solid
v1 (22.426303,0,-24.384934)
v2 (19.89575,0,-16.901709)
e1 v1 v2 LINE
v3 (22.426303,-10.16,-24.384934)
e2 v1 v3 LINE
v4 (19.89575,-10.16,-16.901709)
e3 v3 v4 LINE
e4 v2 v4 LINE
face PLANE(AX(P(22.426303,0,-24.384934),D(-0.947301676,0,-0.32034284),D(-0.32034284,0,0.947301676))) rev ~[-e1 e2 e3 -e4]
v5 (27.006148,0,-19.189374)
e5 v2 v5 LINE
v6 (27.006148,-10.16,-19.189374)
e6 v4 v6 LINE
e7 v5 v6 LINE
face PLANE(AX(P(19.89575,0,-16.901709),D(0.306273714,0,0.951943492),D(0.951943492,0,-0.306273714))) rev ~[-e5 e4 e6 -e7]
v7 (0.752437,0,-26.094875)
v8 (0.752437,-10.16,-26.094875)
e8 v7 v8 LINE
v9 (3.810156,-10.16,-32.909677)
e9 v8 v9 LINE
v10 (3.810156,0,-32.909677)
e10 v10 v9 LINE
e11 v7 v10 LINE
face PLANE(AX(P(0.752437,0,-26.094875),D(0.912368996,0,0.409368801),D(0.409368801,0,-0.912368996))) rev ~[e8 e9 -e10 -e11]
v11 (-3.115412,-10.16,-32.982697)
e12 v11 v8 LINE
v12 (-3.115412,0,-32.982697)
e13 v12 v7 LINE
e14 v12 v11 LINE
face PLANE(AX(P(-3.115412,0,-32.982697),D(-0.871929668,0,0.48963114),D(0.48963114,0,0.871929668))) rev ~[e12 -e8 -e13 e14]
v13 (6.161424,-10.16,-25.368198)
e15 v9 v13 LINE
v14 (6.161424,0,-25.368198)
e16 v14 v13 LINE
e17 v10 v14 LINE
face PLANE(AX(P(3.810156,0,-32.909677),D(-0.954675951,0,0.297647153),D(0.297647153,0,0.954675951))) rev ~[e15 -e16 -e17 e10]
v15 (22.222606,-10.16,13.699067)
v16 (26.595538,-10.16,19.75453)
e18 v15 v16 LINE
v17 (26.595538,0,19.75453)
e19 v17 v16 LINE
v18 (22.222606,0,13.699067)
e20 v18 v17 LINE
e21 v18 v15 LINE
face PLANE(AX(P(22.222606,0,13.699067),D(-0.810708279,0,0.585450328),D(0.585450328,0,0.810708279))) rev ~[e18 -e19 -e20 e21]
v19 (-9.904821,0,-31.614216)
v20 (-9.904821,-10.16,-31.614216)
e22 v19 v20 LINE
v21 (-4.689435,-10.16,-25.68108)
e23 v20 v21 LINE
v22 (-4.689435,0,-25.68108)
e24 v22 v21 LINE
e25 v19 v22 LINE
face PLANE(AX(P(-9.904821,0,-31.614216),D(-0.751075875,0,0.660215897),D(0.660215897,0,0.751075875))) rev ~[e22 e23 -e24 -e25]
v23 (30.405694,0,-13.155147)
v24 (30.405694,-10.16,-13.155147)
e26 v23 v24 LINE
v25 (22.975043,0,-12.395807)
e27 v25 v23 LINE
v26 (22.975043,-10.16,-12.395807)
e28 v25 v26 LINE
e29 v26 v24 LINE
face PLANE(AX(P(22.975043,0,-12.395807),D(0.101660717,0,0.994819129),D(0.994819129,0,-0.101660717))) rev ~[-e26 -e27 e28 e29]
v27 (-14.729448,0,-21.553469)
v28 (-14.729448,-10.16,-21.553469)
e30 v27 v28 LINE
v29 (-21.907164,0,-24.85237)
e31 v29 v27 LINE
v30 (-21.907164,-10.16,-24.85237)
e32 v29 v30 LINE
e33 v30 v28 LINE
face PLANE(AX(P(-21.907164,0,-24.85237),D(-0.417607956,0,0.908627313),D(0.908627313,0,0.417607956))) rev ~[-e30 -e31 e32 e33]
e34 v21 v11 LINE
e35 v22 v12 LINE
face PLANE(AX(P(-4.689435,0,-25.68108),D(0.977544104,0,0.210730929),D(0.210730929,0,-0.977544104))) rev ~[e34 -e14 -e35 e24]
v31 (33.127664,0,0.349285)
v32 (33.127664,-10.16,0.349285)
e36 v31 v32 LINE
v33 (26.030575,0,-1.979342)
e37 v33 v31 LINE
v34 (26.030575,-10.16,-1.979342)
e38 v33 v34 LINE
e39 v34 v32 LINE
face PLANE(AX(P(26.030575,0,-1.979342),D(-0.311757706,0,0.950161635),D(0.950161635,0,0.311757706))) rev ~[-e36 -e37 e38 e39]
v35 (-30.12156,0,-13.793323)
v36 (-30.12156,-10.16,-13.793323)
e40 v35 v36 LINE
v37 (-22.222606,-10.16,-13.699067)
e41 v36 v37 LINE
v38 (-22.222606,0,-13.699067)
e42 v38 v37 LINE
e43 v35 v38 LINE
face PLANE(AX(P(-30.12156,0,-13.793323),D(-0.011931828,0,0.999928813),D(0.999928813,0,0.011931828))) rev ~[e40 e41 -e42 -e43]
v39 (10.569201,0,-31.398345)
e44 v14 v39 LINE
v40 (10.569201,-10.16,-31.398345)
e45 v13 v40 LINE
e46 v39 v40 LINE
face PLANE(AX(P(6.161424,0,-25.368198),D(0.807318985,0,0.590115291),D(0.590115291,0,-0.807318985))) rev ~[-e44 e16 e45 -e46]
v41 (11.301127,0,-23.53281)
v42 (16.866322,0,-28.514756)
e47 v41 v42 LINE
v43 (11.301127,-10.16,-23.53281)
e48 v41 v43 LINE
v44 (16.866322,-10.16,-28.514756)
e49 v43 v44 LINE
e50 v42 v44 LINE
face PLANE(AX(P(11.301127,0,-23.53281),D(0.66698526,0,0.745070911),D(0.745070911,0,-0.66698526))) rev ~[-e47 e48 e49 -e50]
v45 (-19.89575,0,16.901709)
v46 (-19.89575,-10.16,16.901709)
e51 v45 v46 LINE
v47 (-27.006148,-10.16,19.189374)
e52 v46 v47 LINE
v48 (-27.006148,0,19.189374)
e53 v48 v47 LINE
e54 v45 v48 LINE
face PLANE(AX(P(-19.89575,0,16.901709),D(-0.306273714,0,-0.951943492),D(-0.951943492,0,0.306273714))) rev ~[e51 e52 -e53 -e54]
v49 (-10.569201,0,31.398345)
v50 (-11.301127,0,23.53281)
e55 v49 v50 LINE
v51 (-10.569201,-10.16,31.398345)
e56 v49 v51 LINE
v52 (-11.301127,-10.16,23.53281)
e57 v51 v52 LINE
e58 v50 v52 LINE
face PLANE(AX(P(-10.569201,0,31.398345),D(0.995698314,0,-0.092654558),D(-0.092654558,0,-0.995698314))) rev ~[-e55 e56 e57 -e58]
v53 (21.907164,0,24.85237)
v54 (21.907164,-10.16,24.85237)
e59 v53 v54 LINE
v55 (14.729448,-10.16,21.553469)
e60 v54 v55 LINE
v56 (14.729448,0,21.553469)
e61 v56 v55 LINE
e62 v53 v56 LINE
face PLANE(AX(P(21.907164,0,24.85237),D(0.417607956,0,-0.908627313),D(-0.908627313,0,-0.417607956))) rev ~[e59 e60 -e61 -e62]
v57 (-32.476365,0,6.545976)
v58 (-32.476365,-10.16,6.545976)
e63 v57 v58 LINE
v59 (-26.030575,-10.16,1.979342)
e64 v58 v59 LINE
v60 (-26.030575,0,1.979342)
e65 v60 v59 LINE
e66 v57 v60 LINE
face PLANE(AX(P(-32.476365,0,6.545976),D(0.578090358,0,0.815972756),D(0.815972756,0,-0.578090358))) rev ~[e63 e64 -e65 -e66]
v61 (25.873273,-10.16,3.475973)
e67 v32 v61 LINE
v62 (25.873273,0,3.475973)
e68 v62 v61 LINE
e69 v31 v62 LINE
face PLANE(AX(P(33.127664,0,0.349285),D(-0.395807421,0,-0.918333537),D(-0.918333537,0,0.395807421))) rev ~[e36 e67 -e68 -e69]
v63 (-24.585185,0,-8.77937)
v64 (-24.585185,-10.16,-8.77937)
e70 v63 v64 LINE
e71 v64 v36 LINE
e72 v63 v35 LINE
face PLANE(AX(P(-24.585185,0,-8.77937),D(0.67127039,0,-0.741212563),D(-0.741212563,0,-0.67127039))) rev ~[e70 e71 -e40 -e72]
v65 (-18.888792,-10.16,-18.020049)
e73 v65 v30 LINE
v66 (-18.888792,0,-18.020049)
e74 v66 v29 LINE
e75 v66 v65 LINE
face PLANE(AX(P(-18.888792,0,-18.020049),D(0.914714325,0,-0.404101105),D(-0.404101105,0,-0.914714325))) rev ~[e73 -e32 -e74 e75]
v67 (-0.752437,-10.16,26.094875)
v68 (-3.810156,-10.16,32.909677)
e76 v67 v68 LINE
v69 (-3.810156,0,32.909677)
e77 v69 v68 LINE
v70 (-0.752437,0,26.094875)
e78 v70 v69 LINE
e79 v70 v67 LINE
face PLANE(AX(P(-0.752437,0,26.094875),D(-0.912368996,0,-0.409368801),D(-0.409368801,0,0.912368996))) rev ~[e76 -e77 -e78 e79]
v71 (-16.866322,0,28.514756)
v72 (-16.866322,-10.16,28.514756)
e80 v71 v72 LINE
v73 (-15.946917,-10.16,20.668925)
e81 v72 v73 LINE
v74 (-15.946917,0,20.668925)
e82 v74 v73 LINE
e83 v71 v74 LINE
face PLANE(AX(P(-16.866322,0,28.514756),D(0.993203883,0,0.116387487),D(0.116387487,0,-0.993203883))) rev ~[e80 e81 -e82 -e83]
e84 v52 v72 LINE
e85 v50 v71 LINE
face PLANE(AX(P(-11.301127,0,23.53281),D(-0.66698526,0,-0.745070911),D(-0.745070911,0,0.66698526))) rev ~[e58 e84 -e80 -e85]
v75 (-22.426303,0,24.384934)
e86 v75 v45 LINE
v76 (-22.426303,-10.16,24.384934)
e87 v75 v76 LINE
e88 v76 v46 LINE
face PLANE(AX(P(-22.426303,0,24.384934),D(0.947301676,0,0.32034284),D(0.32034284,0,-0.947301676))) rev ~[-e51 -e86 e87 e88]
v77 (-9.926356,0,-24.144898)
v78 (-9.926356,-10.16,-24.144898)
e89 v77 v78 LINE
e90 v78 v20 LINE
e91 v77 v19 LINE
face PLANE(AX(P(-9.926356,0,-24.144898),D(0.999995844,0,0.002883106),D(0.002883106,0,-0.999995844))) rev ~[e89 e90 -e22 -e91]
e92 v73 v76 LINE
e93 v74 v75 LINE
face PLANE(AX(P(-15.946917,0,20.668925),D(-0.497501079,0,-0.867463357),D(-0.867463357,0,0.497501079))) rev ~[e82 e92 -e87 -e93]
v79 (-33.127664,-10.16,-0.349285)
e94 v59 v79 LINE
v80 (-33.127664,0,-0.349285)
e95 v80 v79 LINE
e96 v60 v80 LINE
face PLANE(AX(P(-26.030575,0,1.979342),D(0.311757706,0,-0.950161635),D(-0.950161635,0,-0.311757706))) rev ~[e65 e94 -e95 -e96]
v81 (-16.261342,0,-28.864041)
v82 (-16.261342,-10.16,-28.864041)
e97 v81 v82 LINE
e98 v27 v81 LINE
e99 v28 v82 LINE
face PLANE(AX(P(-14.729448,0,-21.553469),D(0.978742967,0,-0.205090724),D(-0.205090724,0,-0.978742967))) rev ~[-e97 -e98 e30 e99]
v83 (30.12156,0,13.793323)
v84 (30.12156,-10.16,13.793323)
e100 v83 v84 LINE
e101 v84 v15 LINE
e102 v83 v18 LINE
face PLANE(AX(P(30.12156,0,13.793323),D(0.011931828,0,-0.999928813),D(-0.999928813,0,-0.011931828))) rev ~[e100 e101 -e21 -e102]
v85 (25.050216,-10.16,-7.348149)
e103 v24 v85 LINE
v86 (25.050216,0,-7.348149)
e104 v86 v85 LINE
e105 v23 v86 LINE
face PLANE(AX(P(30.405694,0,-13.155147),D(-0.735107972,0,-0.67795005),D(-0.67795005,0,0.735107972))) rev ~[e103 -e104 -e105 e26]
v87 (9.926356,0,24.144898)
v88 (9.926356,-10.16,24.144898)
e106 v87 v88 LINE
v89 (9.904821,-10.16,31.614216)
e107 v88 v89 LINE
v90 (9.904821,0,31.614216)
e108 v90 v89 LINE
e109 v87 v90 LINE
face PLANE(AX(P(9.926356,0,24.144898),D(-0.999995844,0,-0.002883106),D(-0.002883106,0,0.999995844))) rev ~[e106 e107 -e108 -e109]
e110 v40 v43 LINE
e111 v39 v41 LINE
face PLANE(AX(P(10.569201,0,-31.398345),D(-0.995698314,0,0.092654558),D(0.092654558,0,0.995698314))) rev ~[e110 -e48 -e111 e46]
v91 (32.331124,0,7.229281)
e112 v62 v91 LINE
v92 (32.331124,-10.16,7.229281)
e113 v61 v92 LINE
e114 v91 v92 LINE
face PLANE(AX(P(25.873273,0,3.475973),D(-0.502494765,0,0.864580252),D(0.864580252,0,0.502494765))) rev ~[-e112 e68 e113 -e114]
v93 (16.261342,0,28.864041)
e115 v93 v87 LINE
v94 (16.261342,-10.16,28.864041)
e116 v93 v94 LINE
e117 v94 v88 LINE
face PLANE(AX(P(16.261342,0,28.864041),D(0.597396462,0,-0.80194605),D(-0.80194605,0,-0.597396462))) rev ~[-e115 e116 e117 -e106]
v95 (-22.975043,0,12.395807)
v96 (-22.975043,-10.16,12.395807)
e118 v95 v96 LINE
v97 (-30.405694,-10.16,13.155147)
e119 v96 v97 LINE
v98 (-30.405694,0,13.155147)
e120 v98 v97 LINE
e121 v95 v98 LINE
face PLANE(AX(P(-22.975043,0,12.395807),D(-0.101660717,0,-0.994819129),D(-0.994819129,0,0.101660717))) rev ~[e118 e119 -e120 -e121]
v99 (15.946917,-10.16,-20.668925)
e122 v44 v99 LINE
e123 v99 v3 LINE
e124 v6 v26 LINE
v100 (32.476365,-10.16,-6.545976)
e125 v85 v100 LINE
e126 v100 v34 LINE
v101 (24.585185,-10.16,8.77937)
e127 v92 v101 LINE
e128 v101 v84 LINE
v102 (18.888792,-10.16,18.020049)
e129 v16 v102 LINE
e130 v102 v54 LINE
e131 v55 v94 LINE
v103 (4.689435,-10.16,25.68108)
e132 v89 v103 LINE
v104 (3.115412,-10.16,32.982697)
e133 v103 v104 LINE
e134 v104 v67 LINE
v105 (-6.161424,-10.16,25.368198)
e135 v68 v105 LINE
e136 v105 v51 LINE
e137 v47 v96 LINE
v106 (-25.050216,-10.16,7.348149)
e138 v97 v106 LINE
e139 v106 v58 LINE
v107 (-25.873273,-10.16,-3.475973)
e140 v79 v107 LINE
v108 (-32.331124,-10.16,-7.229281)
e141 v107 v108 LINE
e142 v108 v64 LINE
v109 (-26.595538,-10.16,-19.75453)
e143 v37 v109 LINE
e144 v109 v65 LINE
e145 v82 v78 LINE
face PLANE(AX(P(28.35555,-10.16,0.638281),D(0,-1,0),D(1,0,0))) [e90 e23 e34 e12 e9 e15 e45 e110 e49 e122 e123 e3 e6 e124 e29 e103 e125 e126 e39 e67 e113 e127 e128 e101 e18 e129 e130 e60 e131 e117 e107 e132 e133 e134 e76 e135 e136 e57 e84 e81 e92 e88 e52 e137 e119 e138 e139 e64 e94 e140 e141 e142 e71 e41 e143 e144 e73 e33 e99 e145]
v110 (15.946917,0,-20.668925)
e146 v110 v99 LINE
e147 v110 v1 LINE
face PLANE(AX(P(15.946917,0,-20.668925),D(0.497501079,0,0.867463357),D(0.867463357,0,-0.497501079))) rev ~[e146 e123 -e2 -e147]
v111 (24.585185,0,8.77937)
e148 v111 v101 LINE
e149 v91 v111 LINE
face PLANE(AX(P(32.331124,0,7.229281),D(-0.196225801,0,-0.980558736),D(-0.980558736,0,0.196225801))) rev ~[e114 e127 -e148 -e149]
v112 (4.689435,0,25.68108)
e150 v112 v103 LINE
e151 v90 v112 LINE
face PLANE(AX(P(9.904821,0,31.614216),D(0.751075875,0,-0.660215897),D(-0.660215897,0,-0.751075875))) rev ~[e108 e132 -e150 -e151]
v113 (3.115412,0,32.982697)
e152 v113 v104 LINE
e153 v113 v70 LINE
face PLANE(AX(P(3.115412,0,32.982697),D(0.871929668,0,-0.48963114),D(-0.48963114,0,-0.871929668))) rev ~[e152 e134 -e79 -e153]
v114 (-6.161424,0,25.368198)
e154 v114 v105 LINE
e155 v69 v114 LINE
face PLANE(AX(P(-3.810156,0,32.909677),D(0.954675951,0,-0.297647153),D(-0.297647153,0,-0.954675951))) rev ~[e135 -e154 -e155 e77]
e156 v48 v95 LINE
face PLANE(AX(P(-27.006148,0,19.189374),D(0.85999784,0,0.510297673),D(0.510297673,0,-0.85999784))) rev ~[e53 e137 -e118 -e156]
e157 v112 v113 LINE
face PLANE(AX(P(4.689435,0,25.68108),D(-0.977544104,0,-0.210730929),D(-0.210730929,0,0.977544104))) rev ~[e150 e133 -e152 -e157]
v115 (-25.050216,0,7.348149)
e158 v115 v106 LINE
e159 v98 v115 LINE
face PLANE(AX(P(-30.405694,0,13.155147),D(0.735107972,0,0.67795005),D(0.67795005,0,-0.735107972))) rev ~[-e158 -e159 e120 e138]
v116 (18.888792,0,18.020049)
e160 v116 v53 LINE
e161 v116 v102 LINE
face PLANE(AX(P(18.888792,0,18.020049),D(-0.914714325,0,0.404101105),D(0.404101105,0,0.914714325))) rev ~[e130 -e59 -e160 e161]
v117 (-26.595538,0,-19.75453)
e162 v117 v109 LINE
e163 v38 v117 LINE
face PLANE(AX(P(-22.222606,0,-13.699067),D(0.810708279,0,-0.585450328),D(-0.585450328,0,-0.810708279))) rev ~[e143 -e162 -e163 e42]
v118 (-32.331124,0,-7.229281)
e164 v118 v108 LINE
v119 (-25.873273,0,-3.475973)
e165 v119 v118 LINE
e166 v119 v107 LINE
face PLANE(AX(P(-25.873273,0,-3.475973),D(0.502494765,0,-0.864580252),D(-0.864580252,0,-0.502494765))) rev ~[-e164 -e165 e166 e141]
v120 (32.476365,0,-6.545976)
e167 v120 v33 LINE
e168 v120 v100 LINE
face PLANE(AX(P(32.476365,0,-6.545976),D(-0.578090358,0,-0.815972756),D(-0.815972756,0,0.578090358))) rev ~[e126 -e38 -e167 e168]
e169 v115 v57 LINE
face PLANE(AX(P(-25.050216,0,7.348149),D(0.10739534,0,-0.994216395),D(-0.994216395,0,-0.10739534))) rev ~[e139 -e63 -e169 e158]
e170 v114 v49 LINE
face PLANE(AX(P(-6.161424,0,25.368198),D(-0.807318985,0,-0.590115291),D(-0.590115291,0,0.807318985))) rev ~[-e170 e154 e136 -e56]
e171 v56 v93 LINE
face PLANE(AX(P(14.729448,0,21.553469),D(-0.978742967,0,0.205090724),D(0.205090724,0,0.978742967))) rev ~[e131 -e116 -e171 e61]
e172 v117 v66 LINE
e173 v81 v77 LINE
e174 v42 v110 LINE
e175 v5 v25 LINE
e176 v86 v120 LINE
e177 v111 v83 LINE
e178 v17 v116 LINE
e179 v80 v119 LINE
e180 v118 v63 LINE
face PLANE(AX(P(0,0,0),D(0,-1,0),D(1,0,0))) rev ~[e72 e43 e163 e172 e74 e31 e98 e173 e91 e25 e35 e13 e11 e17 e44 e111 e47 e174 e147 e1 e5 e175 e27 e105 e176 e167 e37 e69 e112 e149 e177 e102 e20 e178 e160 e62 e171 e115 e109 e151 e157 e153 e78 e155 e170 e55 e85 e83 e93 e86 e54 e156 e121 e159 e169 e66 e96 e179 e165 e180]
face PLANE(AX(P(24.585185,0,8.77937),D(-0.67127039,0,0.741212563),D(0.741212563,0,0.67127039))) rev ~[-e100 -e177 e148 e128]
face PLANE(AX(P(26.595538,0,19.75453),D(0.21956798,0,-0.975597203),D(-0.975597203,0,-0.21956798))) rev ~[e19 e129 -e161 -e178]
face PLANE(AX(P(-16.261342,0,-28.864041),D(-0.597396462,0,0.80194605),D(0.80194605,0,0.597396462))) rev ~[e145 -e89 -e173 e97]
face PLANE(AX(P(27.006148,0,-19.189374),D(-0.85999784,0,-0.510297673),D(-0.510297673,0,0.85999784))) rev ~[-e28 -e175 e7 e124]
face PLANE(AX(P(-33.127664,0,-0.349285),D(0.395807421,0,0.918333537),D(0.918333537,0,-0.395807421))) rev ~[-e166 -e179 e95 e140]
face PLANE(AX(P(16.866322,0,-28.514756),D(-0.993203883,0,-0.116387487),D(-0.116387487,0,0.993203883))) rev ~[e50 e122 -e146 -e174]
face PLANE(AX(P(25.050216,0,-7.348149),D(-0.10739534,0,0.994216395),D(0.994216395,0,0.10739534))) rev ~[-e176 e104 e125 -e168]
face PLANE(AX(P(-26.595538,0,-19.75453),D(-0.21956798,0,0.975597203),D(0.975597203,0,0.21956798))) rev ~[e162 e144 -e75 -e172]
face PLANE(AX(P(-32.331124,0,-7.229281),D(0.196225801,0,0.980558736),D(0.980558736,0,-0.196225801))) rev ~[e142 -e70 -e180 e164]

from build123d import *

# Parameters (mm, degrees)
F1_DEPTH = 10.16
F2_R     = 25.4
F3_DEPTH = 10.16


with BuildPart() as f1:
    # F0 (on Front) → F1 (new body)
    with BuildSketch(Plane.XZ):
        with BuildLine():
            ThreePointArc((25.2112005568, 3.0911755833), (25.3527562026, 1.5484679297), (25.4, 0))
            ThreePointArc((25.4, 0), (25.3888981273, -0.750900713), (25.3556022141, -1.5011450163))
            Line((25.3556022141, -1.5011450163), (26.0305752657, -1.9793416351))
            Line((26.0305752657, -1.9793416351), (33.1276639033, 0.3492854048))
            Line((33.1276639033, 0.3492854048), (25.8732730079, 3.475972645))
            Line((25.8732730079, 3.475972645), (25.2112005568, 3.0911755833))
        make_face()
        with BuildLine():
            ThreePointArc((25.1136270694, 3.803384732), (25.164933526, 3.4476253613), (25.2112005568, 3.0911755833))
            Line((25.2112005568, 3.0911755833), (25.8732730079, 3.475972645))
            Line((25.8732730079, 3.475972645), (25.1136270694, 3.803384732))
        make_face()
        with BuildLine():
            Line((26.0305752657, -1.9793416351), (25.3556022141, -1.5011450163))
            ThreePointArc((25.3556022141, -1.5011450163), (25.3318209693, -1.8597974033), (25.3029668784, -2.218077355))
            Line((25.3029668784, -2.218077355), (26.0305752657, -1.9793416351))
        make_face()
        with BuildLine():
            ThreePointArc((24.0175837941, 8.2653293156), (24.6667024062, 6.0591907386), (25.1136270694, 3.803384732))
            Line((25.1136270694, 3.803384732), (25.8732730079, 3.475972645))
            Line((25.8732730079, 3.475972645), (32.3311244458, 7.2292812957))
            Line((32.3311244458, 7.2292812957), (24.5851845659, 8.779370241))
            Line((24.5851845659, 8.779370241), (24.0175837941, 8.2653293156))
        make_face()
        with BuildLine():
            Line((26.0305752657, -1.9793416351), (25.3029668784, -2.218077355))
            ThreePointArc((25.3029668784, -2.218077355), (24.9986488389, -4.4975055562), (24.4894158724, -6.740067524))
            Line((24.4894158724, -6.740067524), (25.0502164758, -7.3481491879))
            Line((25.0502164758, -7.3481491879), (32.476365484, -6.5459759343))
            Line((32.476365484, -6.5459759343), (26.0305752657, -1.9793416351))
        make_face()
        with BuildLine():
            ThreePointArc((23.7740659132, 8.9416883169), (23.8982177329, 8.6043703541), (24.0175837941, 8.2653293156))
            Line((24.0175837941, 8.2653293156), (24.5851845659, 8.779370241))
            Line((24.5851845659, 8.779370241), (23.7740659132, 8.9416883169))
        make_face()
        with BuildLine():
            Line((25.0502164758, -7.3481491879), (24.4894158724, -6.740067524))
            ThreePointArc((24.4894158724, -6.740067524), (24.3915862806, -7.0859380971), (24.2888721303, -7.4303896694))
            Line((24.2888721303, -7.4303896694), (25.0502164758, -7.3481491879))
        make_face()
        with BuildLine():
            ThreePointArc((21.7742833704, 13.0782484953), (22.8678991852, 11.0552786875), (23.7740659132, 8.9416883169))
            Line((23.7740659132, 8.9416883169), (24.5851845659, 8.779370241))
            Line((24.5851845659, 8.779370241), (30.1215597081, 13.793322904))
            Line((30.1215597081, 13.793322904), (22.2226055856, 13.6990672294))
            Line((22.2226055856, 13.6990672294), (21.7742833704, 13.0782484953))
        make_face()
        with BuildLine():
            Line((25.0502164758, -7.3481491879), (24.2888721303, -7.4303896694))
            ThreePointArc((24.2888721303, -7.4303896694), (23.5172843987, -9.5967356174), (22.5529245438, -11.6844167386))
            Line((22.5529245438, -11.6844167386), (22.9750430216, -12.3958073608))
            Line((22.9750430216, -12.3958073608), (30.4056940542, -13.155146714))
            Line((30.4056940542, -13.155146714), (25.0502164758, -7.3481491879))
        make_face()
        with BuildLine():
            ThreePointArc((21.3954639959, 13.6891972153), (21.5870351485, 13.3850630741), (21.7742833704, 13.0782484953))
            Line((21.7742833704, 13.0782484953), (22.2226055856, 13.6990672294))
            Line((22.2226055856, 13.6990672294), (21.3954639959, 13.6891972153))
        make_face()
        with BuildLine():
            Line((22.9750430216, -12.3958073608), (22.5529245438, -11.6844167386))
            ThreePointArc((22.5529245438, -11.6844167386), (22.3853222277, -12.002389294), (22.2132371191, -12.3179583003))
            Line((22.2132371191, -12.3179583003), (22.9750430216, -12.3958073608))
        make_face()
        with BuildLine():
            ThreePointArc((18.5793422789, 17.3195854594), (20.0696590374, 15.5681979086), (21.3954639959, 13.6891972153))
            Line((21.3954639959, 13.6891972153), (22.2226055856, 13.6990672294))
            Line((22.2226055856, 13.6990672294), (26.5955382719, 19.7545301137))
            Line((26.5955382719, 19.7545301137), (18.8887921054, 18.0200492444))
            Line((18.8887921054, 18.0200492444), (18.5793422789, 17.3195854594))
        make_face()
        with BuildLine():
            Line((22.9750430216, -12.3958073608), (22.2132371191, -12.3179583003))
            ThreePointArc((22.2132371191, -12.3179583003), (21.0081017818, -14.2765422818), (19.6307621917, -16.1181008736))
            Line((19.6307621917, -16.1181008736), (19.8957499409, -16.9017092703))
            Line((19.8957499409, -16.9017092703), (27.0061478915, -19.1893744569))
            Line((27.0061478915, -19.1893744569), (22.9750430216, -12.3958073608))
        make_face()
        with BuildLine():
            ThreePointArc((18.0817776352, 17.8384225073), (18.332395542, 17.580764309), (18.5793422789, 17.3195854594))
            Line((18.5793422789, 17.3195854594), (18.8887921054, 18.0200492444))
            Line((18.8887921054, 18.0200492444), (18.0817776352, 17.8384225073))
        make_face()
        with BuildLine():
            Line((19.8957499409, -16.9017092703), (19.6307621917, -16.1181008736))
            ThreePointArc((19.6307621917, -16.1181008736), (19.4007121767, -16.3942784848), (19.166777055, -16.6671730454))
            Line((19.166777055, -16.6671730454), (19.8957499409, -16.9017092703))
        make_face()
        with BuildLine():
            ThreePointArc((14.5723947762, 20.8039734303), (16.3942784848, 19.4007121767), (18.0817776352, 17.8384225073))
            Line((18.0817776352, 17.8384225073), (18.8887921054, 18.0200492444))
            Line((18.8887921054, 18.0200492444), (21.9071641936, 24.8523695646))
            Line((21.9071641936, 24.8523695646), (14.7294477716, 21.5534686376))
            Line((14.7294477716, 21.5534686376), (14.5723947762, 20.8039734303))
        make_face()
        with BuildLine():
            Line((19.8957499409, -16.9017092703), (19.166777055, -16.6671730454))
            ThreePointArc((19.166777055, -16.6671730454), (17.580764309, -18.332395542), (15.850641333, -19.8473466572))
            Line((15.850641333, -19.8473466572), (15.9469171174, -20.6689253814))
            Line((15.9469171174, -20.6689253814), (22.4263034761, -24.3849344552))
            Line((22.4263034761, -24.3849344552), (19.8957499409, -16.9017092703))
        make_face()
        with BuildLine():
            ThreePointArc((13.9778308259, 21.2080231375), (14.2765422818, 21.0081017818), (14.5723947762, 20.8039734303))
            Line((14.5723947762, 20.8039734303), (14.7294477716, 21.5534686376))
            Line((14.7294477716, 21.5534686376), (13.9778308259, 21.2080231375))
        make_face()
        with BuildLine():
            Line((15.9469171174, -20.6689253814), (15.850641333, -19.8473466572))
            ThreePointArc((15.850641333, -19.8473466572), (15.5681979086, -20.0696590374), (15.2826368611, -20.2879523504))
            Line((15.2826368611, -20.2879523504), (15.9469171174, -20.6689253814))
        make_face()
        with BuildLine():
            ThreePointArc((9.9285636957, 23.3791279337), (12.002389294, 22.3853222277), (13.9778308259, 21.2080231375))
            Line((13.9778308259, 21.2080231375), (14.7294477716, 21.5534686376))
            Line((14.7294477716, 21.5534686376), (16.2613419179, 28.8640412107))
            Line((16.2613419179, 28.8640412107), (9.9263558905, 24.1448980264))
            Line((9.9263558905, 24.1448980264), (9.9285636957, 23.3791279337))
        make_face()
        with BuildLine():
            Line((15.9469171174, -20.6689253814), (15.2826368611, -20.2879523504))
            ThreePointArc((15.2826368611, -20.2879523504), (13.3850630741, -21.5870351485), (11.3777713882, -22.7091681538))
            Line((11.3777713882, -22.7091681538), (11.3011274941, -23.5328102727))
            Line((11.3011274941, -23.5328102727), (16.8663219854, -28.5147558059))
            Line((16.8663219854, -28.5147558059), (15.9469171174, -20.6689253814))
        make_face()
        with BuildLine():
            ThreePointArc((9.2629857364, 23.6507313893), (9.5967356174, 23.5172843987), (9.9285636957, 23.3791279337))
            Line((9.9285636957, 23.3791279337), (9.9263558905, 24.1448980264))
            Line((9.9263558905, 24.1448980264), (9.2629857364, 23.6507313893))
        make_face()
        with BuildLine():
            Line((11.3011274941, -23.5328102727), (11.3777713882, -22.7091681538))
            ThreePointArc((11.3777713882, -22.7091681538), (11.0552786875, -22.8678991852), (10.7305721022, -23.0220507853))
            Line((10.7305721022, -23.0220507853), (11.3011274941, -23.5328102727))
        make_face()
        with BuildLine():
            ThreePointArc((4.8508067391, 24.932502361), (7.0859380971, 24.3915862806), (9.2629857364, 23.6507313893))
            Line((9.2629857364, 23.6507313893), (9.9263558905, 24.1448980264))
            Line((9.9263558905, 24.1448980264), (9.9048209697, 31.6142157509))
            Line((9.9048209697, 31.6142157509), (4.689434625, 25.6810795113))
            Line((4.689434625, 25.6810795113), (4.8508067391, 24.932502361))
        make_face()
        with BuildLine():
            Line((11.3011274941, -23.5328102727), (10.7305721022, -23.0220507853))
            ThreePointArc((10.7305721022, -23.0220507853), (8.6043703541, -23.8982177329), (6.4076382372, -24.5784900314))
            Line((6.4076382372, -24.5784900314), (6.1614243704, -25.3681984322))
            Line((6.1614243704, -25.3681984322), (10.5692012904, -31.3983454989))
            Line((10.5692012904, -31.3983454989), (11.3011274941, -23.5328102727))
        make_face()
        with BuildLine():
            ThreePointArc((4.1433037215, 25.0597891905), (4.4975055562, 24.9986488389), (4.8508067391, 24.932502361))
            Line((4.8508067391, 24.932502361), (4.689434625, 25.6810795113))
            Line((4.689434625, 25.6810795113), (4.1433037215, 25.0597891905))
        make_face()
        with BuildLine():
            Line((6.1614243704, -25.3681984322), (6.4076382372, -24.5784900314))
            ThreePointArc((6.4076382372, -24.5784900314), (6.0591907386, -24.6667024062), (5.7095298514, -24.7499751288))
            Line((5.7095298514, -24.7499751288), (6.1614243704, -25.3681984322))
        make_face()
        with BuildLine():
            ThreePointArc((-0.4389537487, 25.3962067956), (1.8597974033, 25.3318209693), (4.1433037215, 25.0597891905))
            Line((4.1433037215, 25.0597891905), (4.689434625, 25.6810795113))
            Line((4.689434625, 25.6810795113), (3.1154118166, 32.9826973608))
            Line((3.1154118166, 32.9826973608), (-0.752437436, 26.0948745901))
            Line((-0.752437436, 26.0948745901), (-0.4389537487, 25.3962067956))
        make_face()
        with BuildLine():
            Line((6.1614243704, -25.3681984322), (5.7095298514, -24.7499751288))
            ThreePointArc((5.7095298514, -24.7499751288), (3.4476253613, -25.164933526), (1.1574605479, -25.3736139539))
            Line((1.1574605479, -25.3736139539), (0.752437436, -26.0948745901))
            Line((0.752437436, -26.0948745901), (3.8101557823, -32.9096768276))
            Line((3.8101557823, -32.9096768276), (6.1614243704, -25.3681984322))
        make_face()
        with BuildLine():
            ThreePointArc((-1.1574605479, 25.3736139539), (-0.7982870791, 25.387452368), (-0.4389537487, 25.3962067956))
            Line((-0.4389537487, 25.3962067956), (-0.752437436, 26.0948745901))
            Line((-0.752437436, 26.0948745901), (-1.1574605479, 25.3736139539))
        make_face()
        with BuildLine():
            Line((0.752437436, -26.0948745901), (1.1574605479, -25.3736139539))
            ThreePointArc((1.1574605479, -25.3736139539), (0.7982870791, -25.387452368), (0.4389537487, -25.3962067956))
            Line((0.4389537487, -25.3962067956), (0.752437436, -26.0948745901))
        make_face()
        with BuildLine():
            ThreePointArc((-5.7095298514, 24.7499751288), (-3.4476253613, 25.164933526), (-1.1574605479, 25.3736139539))
            Line((-1.1574605479, 25.3736139539), (-0.752437436, 26.0948745901))
            Line((-0.752437436, 26.0948745901), (-3.8101557823, 32.9096768276))
            Line((-3.8101557823, 32.9096768276), (-6.1614243704, 25.3681984322))
            Line((-6.1614243704, 25.3681984322), (-5.7095298514, 24.7499751288))
        make_face()
        with BuildLine():
            Line((0.752437436, -26.0948745901), (0.4389537487, -25.3962067956))
            ThreePointArc((0.4389537487, -25.3962067956), (-1.8597974033, -25.3318209693), (-4.1433037215, -25.0597891905))
            Line((-4.1433037215, -25.0597891905), (-4.689434625, -25.6810795113))
            Line((-4.689434625, -25.6810795113), (-3.1154118166, -32.9826973608))
            Line((-3.1154118166, -32.9826973608), (0.752437436, -26.0948745901))
        make_face()
        with BuildLine():
            ThreePointArc((-6.4076382372, 24.5784900314), (-6.0591907386, 24.6667024062), (-5.7095298514, 24.7499751288))
            Line((-5.7095298514, 24.7499751288), (-6.1614243704, 25.3681984322))
            Line((-6.1614243704, 25.3681984322), (-6.4076382372, 24.5784900314))
        make_face()
        with BuildLine():
            Line((-4.689434625, -25.6810795113), (-4.1433037215, -25.0597891905))
            ThreePointArc((-4.1433037215, -25.0597891905), (-4.4975055562, -24.9986488389), (-4.8508067391, -24.932502361))
            Line((-4.8508067391, -24.932502361), (-4.689434625, -25.6810795113))
        make_face()
        with BuildLine():
            ThreePointArc((-10.7305721022, 23.0220507853), (-8.6043703541, 23.8982177329), (-6.4076382372, 24.5784900314))
            Line((-6.4076382372, 24.5784900314), (-6.1614243704, 25.3681984322))
            Line((-6.1614243704, 25.3681984322), (-10.5692012904, 31.3983454989))
            Line((-10.5692012904, 31.3983454989), (-11.3011274941, 23.5328102727))
            Line((-11.3011274941, 23.5328102727), (-10.7305721022, 23.0220507853))
        make_face()
        with BuildLine():
            Line((-4.689434625, -25.6810795113), (-4.8508067391, -24.932502361))
            ThreePointArc((-4.8508067391, -24.932502361), (-7.0859380971, -24.3915862806), (-9.2629857364, -23.6507313893))
            Line((-9.2629857364, -23.6507313893), (-9.9263558905, -24.1448980264))
            Line((-9.9263558905, -24.1448980264), (-9.9048209697, -31.6142157509))
            Line((-9.9048209697, -31.6142157509), (-4.689434625, -25.6810795113))
        make_face()
        with BuildLine():
            ThreePointArc((-11.3777713882, 22.7091681538), (-11.0552786875, 22.8678991852), (-10.7305721022, 23.0220507853))
            Line((-10.7305721022, 23.0220507853), (-11.3011274941, 23.5328102727))
            Line((-11.3011274941, 23.5328102727), (-11.3777713882, 22.7091681538))
        make_face()
        with BuildLine():
            Line((-9.9263558905, -24.1448980264), (-9.2629857364, -23.6507313893))
            ThreePointArc((-9.2629857364, -23.6507313893), (-9.5967356174, -23.5172843987), (-9.9285636957, -23.3791279337))
            Line((-9.9285636957, -23.3791279337), (-9.9263558905, -24.1448980264))
        make_face()
        with BuildLine():
            ThreePointArc((-15.2826368611, 20.2879523504), (-13.3850630741, 21.5870351485), (-11.3777713882, 22.7091681538))
            Line((-11.3777713882, 22.7091681538), (-11.3011274941, 23.5328102727))
            Line((-11.3011274941, 23.5328102727), (-16.8663219854, 28.5147558059))
            Line((-16.8663219854, 28.5147558059), (-15.9469171174, 20.6689253814))
            Line((-15.9469171174, 20.6689253814), (-15.2826368611, 20.2879523504))
        make_face()
        with BuildLine():
            Line((-9.9263558905, -24.1448980264), (-9.9285636957, -23.3791279337))
            ThreePointArc((-9.9285636957, -23.3791279337), (-12.002389294, -22.3853222277), (-13.9778308259, -21.2080231375))
            Line((-13.9778308259, -21.2080231375), (-14.7294477716, -21.5534686376))
            Line((-14.7294477716, -21.5534686376), (-16.2613419179, -28.8640412107))
            Line((-16.2613419179, -28.8640412107), (-9.9263558905, -24.1448980264))
        make_face()
        with BuildLine():
            ThreePointArc((-15.850641333, 19.8473466572), (-15.5681979086, 20.0696590374), (-15.2826368611, 20.2879523504))
            Line((-15.2826368611, 20.2879523504), (-15.9469171174, 20.6689253814))
            Line((-15.9469171174, 20.6689253814), (-15.850641333, 19.8473466572))
        make_face()
        with BuildLine():
            Line((-14.7294477716, -21.5534686376), (-13.9778308259, -21.2080231375))
            ThreePointArc((-13.9778308259, -21.2080231375), (-14.2765422818, -21.0081017818), (-14.5723947762, -20.8039734303))
            Line((-14.5723947762, -20.8039734303), (-14.7294477716, -21.5534686376))
        make_face()
        with BuildLine():
            ThreePointArc((-19.166777055, 16.6671730454), (-17.580764309, 18.332395542), (-15.850641333, 19.8473466572))
            Line((-15.850641333, 19.8473466572), (-15.9469171174, 20.6689253814))
            Line((-15.9469171174, 20.6689253814), (-22.4263034761, 24.3849344552))
            Line((-22.4263034761, 24.3849344552), (-19.8957499409, 16.9017092703))
            Line((-19.8957499409, 16.9017092703), (-19.166777055, 16.6671730454))
        make_face()
        with BuildLine():
            Line((-14.7294477716, -21.5534686376), (-14.5723947762, -20.8039734303))
            ThreePointArc((-14.5723947762, -20.8039734303), (-16.3942784848, -19.4007121767), (-18.0817776352, -17.8384225073))
            Line((-18.0817776352, -17.8384225073), (-18.8887921054, -18.0200492444))
            Line((-18.8887921054, -18.0200492444), (-21.9071641936, -24.8523695646))
            Line((-21.9071641936, -24.8523695646), (-14.7294477716, -21.5534686376))
        make_face()
        with BuildLine():
            ThreePointArc((-19.6307621917, 16.1181008736), (-19.4007121767, 16.3942784848), (-19.166777055, 16.6671730454))
            Line((-19.166777055, 16.6671730454), (-19.8957499409, 16.9017092703))
            Line((-19.8957499409, 16.9017092703), (-19.6307621917, 16.1181008736))
        make_face()
        with BuildLine():
            Line((-18.8887921054, -18.0200492444), (-18.0817776352, -17.8384225073))
            ThreePointArc((-18.0817776352, -17.8384225073), (-18.332395542, -17.580764309), (-18.5793422789, -17.3195854594))
            Line((-18.5793422789, -17.3195854594), (-18.8887921054, -18.0200492444))
        make_face()
        with BuildLine():
            ThreePointArc((-22.2132371191, 12.3179583003), (-21.0081017818, 14.2765422818), (-19.6307621917, 16.1181008736))
            Line((-19.6307621917, 16.1181008736), (-19.8957499409, 16.9017092703))
            Line((-19.8957499409, 16.9017092703), (-27.0061478915, 19.1893744569))
            Line((-27.0061478915, 19.1893744569), (-22.9750430216, 12.3958073608))
            Line((-22.9750430216, 12.3958073608), (-22.2132371191, 12.3179583003))
        make_face()
        with BuildLine():
            Line((-18.8887921054, -18.0200492444), (-18.5793422789, -17.3195854594))
            ThreePointArc((-18.5793422789, -17.3195854594), (-20.0696590374, -15.5681979086), (-21.3954639959, -13.6891972153))
            Line((-21.3954639959, -13.6891972153), (-22.2226055856, -13.6990672294))
            Line((-22.2226055856, -13.6990672294), (-26.5955382719, -19.7545301137))
            Line((-26.5955382719, -19.7545301137), (-18.8887921054, -18.0200492444))
        make_face()
        with BuildLine():
            ThreePointArc((-22.5529245438, 11.6844167386), (-22.3853222277, 12.002389294), (-22.2132371191, 12.3179583003))
            Line((-22.2132371191, 12.3179583003), (-22.9750430216, 12.3958073608))
            Line((-22.9750430216, 12.3958073608), (-22.5529245438, 11.6844167386))
        make_face()
        with BuildLine():
            Line((-22.2226055856, -13.6990672294), (-21.3954639959, -13.6891972153))
            ThreePointArc((-21.3954639959, -13.6891972153), (-21.5870351485, -13.3850630741), (-21.7742833704, -13.0782484953))
            Line((-21.7742833704, -13.0782484953), (-22.2226055856, -13.6990672294))
        make_face()
        with BuildLine():
            ThreePointArc((-24.2888721303, 7.4303896694), (-23.5172843987, 9.5967356174), (-22.5529245438, 11.6844167386))
            Line((-22.5529245438, 11.6844167386), (-22.9750430216, 12.3958073608))
            Line((-22.9750430216, 12.3958073608), (-30.4056940542, 13.155146714))
            Line((-30.4056940542, 13.155146714), (-25.0502164758, 7.3481491879))
            Line((-25.0502164758, 7.3481491879), (-24.2888721303, 7.4303896694))
        make_face()
        with BuildLine():
            Line((-22.2226055856, -13.6990672294), (-21.7742833704, -13.0782484953))
            ThreePointArc((-21.7742833704, -13.0782484953), (-22.8678991852, -11.0552786875), (-23.7740659132, -8.9416883169))
            Line((-23.7740659132, -8.9416883169), (-24.5851845659, -8.779370241))
            Line((-24.5851845659, -8.779370241), (-30.1215597081, -13.793322904))
            Line((-30.1215597081, -13.793322904), (-22.2226055856, -13.6990672294))
        make_face()
        with BuildLine():
            ThreePointArc((-24.4894158724, 6.740067524), (-24.3915862806, 7.0859380971), (-24.2888721303, 7.4303896694))
            Line((-24.2888721303, 7.4303896694), (-25.0502164758, 7.3481491879))
            Line((-25.0502164758, 7.3481491879), (-24.4894158724, 6.740067524))
        make_face()
        with BuildLine():
            Line((-24.5851845659, -8.779370241), (-23.7740659132, -8.9416883169))
            ThreePointArc((-23.7740659132, -8.9416883169), (-23.8982177329, -8.6043703541), (-24.0175837941, -8.2653293156))
            Line((-24.0175837941, -8.2653293156), (-24.5851845659, -8.779370241))
        make_face()
        with BuildLine():
            ThreePointArc((-25.3029668784, 2.218077355), (-24.9986488389, 4.4975055562), (-24.4894158724, 6.740067524))
            Line((-24.4894158724, 6.740067524), (-25.0502164758, 7.3481491879))
            Line((-25.0502164758, 7.3481491879), (-32.476365484, 6.5459759343))
            Line((-32.476365484, 6.5459759343), (-26.0305752657, 1.9793416351))
            Line((-26.0305752657, 1.9793416351), (-25.3029668784, 2.218077355))
        make_face()
        with BuildLine():
            Line((-24.5851845659, -8.779370241), (-24.0175837941, -8.2653293156))
            ThreePointArc((-24.0175837941, -8.2653293156), (-24.6667024062, -6.0591907386), (-25.1136270694, -3.803384732))
            Line((-25.1136270694, -3.803384732), (-25.8732730079, -3.475972645))
            Line((-25.8732730079, -3.475972645), (-32.3311244458, -7.2292812957))
            Line((-32.3311244458, -7.2292812957), (-24.5851845659, -8.779370241))
        make_face()
        with BuildLine():
            ThreePointArc((-25.3556022141, 1.5011450163), (-25.3318209693, 1.8597974033), (-25.3029668784, 2.218077355))
            Line((-25.3029668784, 2.218077355), (-26.0305752657, 1.9793416351))
            Line((-26.0305752657, 1.9793416351), (-25.3556022141, 1.5011450163))
        make_face()
        with BuildLine():
            Line((-25.8732730079, -3.475972645), (-25.1136270694, -3.803384732))
            ThreePointArc((-25.1136270694, -3.803384732), (-25.164933526, -3.4476253613), (-25.2112005568, -3.0911755833))
            Line((-25.2112005568, -3.0911755833), (-25.8732730079, -3.475972645))
        make_face()
        with BuildLine():
            ThreePointArc((-25.2112005568, -3.0911755833), (-25.387452368, -0.7982870791), (-25.3556022141, 1.5011450163))
            Line((-25.3556022141, 1.5011450163), (-26.0305752657, 1.9793416351))
            Line((-26.0305752657, 1.9793416351), (-33.1276639033, -0.3492854048))
            Line((-33.1276639033, -0.3492854048), (-25.8732730079, -3.475972645))
            Line((-25.8732730079, -3.475972645), (-25.2112005568, -3.0911755833))
        make_face()
    extrude(amount=F1_DEPTH)

    # F2 (on Front) → F3 (join)
    with BuildSketch(Plane.XZ):
        Circle(F2_R)
    extrude(amount=F3_DEPTH)


solid = f1.part
